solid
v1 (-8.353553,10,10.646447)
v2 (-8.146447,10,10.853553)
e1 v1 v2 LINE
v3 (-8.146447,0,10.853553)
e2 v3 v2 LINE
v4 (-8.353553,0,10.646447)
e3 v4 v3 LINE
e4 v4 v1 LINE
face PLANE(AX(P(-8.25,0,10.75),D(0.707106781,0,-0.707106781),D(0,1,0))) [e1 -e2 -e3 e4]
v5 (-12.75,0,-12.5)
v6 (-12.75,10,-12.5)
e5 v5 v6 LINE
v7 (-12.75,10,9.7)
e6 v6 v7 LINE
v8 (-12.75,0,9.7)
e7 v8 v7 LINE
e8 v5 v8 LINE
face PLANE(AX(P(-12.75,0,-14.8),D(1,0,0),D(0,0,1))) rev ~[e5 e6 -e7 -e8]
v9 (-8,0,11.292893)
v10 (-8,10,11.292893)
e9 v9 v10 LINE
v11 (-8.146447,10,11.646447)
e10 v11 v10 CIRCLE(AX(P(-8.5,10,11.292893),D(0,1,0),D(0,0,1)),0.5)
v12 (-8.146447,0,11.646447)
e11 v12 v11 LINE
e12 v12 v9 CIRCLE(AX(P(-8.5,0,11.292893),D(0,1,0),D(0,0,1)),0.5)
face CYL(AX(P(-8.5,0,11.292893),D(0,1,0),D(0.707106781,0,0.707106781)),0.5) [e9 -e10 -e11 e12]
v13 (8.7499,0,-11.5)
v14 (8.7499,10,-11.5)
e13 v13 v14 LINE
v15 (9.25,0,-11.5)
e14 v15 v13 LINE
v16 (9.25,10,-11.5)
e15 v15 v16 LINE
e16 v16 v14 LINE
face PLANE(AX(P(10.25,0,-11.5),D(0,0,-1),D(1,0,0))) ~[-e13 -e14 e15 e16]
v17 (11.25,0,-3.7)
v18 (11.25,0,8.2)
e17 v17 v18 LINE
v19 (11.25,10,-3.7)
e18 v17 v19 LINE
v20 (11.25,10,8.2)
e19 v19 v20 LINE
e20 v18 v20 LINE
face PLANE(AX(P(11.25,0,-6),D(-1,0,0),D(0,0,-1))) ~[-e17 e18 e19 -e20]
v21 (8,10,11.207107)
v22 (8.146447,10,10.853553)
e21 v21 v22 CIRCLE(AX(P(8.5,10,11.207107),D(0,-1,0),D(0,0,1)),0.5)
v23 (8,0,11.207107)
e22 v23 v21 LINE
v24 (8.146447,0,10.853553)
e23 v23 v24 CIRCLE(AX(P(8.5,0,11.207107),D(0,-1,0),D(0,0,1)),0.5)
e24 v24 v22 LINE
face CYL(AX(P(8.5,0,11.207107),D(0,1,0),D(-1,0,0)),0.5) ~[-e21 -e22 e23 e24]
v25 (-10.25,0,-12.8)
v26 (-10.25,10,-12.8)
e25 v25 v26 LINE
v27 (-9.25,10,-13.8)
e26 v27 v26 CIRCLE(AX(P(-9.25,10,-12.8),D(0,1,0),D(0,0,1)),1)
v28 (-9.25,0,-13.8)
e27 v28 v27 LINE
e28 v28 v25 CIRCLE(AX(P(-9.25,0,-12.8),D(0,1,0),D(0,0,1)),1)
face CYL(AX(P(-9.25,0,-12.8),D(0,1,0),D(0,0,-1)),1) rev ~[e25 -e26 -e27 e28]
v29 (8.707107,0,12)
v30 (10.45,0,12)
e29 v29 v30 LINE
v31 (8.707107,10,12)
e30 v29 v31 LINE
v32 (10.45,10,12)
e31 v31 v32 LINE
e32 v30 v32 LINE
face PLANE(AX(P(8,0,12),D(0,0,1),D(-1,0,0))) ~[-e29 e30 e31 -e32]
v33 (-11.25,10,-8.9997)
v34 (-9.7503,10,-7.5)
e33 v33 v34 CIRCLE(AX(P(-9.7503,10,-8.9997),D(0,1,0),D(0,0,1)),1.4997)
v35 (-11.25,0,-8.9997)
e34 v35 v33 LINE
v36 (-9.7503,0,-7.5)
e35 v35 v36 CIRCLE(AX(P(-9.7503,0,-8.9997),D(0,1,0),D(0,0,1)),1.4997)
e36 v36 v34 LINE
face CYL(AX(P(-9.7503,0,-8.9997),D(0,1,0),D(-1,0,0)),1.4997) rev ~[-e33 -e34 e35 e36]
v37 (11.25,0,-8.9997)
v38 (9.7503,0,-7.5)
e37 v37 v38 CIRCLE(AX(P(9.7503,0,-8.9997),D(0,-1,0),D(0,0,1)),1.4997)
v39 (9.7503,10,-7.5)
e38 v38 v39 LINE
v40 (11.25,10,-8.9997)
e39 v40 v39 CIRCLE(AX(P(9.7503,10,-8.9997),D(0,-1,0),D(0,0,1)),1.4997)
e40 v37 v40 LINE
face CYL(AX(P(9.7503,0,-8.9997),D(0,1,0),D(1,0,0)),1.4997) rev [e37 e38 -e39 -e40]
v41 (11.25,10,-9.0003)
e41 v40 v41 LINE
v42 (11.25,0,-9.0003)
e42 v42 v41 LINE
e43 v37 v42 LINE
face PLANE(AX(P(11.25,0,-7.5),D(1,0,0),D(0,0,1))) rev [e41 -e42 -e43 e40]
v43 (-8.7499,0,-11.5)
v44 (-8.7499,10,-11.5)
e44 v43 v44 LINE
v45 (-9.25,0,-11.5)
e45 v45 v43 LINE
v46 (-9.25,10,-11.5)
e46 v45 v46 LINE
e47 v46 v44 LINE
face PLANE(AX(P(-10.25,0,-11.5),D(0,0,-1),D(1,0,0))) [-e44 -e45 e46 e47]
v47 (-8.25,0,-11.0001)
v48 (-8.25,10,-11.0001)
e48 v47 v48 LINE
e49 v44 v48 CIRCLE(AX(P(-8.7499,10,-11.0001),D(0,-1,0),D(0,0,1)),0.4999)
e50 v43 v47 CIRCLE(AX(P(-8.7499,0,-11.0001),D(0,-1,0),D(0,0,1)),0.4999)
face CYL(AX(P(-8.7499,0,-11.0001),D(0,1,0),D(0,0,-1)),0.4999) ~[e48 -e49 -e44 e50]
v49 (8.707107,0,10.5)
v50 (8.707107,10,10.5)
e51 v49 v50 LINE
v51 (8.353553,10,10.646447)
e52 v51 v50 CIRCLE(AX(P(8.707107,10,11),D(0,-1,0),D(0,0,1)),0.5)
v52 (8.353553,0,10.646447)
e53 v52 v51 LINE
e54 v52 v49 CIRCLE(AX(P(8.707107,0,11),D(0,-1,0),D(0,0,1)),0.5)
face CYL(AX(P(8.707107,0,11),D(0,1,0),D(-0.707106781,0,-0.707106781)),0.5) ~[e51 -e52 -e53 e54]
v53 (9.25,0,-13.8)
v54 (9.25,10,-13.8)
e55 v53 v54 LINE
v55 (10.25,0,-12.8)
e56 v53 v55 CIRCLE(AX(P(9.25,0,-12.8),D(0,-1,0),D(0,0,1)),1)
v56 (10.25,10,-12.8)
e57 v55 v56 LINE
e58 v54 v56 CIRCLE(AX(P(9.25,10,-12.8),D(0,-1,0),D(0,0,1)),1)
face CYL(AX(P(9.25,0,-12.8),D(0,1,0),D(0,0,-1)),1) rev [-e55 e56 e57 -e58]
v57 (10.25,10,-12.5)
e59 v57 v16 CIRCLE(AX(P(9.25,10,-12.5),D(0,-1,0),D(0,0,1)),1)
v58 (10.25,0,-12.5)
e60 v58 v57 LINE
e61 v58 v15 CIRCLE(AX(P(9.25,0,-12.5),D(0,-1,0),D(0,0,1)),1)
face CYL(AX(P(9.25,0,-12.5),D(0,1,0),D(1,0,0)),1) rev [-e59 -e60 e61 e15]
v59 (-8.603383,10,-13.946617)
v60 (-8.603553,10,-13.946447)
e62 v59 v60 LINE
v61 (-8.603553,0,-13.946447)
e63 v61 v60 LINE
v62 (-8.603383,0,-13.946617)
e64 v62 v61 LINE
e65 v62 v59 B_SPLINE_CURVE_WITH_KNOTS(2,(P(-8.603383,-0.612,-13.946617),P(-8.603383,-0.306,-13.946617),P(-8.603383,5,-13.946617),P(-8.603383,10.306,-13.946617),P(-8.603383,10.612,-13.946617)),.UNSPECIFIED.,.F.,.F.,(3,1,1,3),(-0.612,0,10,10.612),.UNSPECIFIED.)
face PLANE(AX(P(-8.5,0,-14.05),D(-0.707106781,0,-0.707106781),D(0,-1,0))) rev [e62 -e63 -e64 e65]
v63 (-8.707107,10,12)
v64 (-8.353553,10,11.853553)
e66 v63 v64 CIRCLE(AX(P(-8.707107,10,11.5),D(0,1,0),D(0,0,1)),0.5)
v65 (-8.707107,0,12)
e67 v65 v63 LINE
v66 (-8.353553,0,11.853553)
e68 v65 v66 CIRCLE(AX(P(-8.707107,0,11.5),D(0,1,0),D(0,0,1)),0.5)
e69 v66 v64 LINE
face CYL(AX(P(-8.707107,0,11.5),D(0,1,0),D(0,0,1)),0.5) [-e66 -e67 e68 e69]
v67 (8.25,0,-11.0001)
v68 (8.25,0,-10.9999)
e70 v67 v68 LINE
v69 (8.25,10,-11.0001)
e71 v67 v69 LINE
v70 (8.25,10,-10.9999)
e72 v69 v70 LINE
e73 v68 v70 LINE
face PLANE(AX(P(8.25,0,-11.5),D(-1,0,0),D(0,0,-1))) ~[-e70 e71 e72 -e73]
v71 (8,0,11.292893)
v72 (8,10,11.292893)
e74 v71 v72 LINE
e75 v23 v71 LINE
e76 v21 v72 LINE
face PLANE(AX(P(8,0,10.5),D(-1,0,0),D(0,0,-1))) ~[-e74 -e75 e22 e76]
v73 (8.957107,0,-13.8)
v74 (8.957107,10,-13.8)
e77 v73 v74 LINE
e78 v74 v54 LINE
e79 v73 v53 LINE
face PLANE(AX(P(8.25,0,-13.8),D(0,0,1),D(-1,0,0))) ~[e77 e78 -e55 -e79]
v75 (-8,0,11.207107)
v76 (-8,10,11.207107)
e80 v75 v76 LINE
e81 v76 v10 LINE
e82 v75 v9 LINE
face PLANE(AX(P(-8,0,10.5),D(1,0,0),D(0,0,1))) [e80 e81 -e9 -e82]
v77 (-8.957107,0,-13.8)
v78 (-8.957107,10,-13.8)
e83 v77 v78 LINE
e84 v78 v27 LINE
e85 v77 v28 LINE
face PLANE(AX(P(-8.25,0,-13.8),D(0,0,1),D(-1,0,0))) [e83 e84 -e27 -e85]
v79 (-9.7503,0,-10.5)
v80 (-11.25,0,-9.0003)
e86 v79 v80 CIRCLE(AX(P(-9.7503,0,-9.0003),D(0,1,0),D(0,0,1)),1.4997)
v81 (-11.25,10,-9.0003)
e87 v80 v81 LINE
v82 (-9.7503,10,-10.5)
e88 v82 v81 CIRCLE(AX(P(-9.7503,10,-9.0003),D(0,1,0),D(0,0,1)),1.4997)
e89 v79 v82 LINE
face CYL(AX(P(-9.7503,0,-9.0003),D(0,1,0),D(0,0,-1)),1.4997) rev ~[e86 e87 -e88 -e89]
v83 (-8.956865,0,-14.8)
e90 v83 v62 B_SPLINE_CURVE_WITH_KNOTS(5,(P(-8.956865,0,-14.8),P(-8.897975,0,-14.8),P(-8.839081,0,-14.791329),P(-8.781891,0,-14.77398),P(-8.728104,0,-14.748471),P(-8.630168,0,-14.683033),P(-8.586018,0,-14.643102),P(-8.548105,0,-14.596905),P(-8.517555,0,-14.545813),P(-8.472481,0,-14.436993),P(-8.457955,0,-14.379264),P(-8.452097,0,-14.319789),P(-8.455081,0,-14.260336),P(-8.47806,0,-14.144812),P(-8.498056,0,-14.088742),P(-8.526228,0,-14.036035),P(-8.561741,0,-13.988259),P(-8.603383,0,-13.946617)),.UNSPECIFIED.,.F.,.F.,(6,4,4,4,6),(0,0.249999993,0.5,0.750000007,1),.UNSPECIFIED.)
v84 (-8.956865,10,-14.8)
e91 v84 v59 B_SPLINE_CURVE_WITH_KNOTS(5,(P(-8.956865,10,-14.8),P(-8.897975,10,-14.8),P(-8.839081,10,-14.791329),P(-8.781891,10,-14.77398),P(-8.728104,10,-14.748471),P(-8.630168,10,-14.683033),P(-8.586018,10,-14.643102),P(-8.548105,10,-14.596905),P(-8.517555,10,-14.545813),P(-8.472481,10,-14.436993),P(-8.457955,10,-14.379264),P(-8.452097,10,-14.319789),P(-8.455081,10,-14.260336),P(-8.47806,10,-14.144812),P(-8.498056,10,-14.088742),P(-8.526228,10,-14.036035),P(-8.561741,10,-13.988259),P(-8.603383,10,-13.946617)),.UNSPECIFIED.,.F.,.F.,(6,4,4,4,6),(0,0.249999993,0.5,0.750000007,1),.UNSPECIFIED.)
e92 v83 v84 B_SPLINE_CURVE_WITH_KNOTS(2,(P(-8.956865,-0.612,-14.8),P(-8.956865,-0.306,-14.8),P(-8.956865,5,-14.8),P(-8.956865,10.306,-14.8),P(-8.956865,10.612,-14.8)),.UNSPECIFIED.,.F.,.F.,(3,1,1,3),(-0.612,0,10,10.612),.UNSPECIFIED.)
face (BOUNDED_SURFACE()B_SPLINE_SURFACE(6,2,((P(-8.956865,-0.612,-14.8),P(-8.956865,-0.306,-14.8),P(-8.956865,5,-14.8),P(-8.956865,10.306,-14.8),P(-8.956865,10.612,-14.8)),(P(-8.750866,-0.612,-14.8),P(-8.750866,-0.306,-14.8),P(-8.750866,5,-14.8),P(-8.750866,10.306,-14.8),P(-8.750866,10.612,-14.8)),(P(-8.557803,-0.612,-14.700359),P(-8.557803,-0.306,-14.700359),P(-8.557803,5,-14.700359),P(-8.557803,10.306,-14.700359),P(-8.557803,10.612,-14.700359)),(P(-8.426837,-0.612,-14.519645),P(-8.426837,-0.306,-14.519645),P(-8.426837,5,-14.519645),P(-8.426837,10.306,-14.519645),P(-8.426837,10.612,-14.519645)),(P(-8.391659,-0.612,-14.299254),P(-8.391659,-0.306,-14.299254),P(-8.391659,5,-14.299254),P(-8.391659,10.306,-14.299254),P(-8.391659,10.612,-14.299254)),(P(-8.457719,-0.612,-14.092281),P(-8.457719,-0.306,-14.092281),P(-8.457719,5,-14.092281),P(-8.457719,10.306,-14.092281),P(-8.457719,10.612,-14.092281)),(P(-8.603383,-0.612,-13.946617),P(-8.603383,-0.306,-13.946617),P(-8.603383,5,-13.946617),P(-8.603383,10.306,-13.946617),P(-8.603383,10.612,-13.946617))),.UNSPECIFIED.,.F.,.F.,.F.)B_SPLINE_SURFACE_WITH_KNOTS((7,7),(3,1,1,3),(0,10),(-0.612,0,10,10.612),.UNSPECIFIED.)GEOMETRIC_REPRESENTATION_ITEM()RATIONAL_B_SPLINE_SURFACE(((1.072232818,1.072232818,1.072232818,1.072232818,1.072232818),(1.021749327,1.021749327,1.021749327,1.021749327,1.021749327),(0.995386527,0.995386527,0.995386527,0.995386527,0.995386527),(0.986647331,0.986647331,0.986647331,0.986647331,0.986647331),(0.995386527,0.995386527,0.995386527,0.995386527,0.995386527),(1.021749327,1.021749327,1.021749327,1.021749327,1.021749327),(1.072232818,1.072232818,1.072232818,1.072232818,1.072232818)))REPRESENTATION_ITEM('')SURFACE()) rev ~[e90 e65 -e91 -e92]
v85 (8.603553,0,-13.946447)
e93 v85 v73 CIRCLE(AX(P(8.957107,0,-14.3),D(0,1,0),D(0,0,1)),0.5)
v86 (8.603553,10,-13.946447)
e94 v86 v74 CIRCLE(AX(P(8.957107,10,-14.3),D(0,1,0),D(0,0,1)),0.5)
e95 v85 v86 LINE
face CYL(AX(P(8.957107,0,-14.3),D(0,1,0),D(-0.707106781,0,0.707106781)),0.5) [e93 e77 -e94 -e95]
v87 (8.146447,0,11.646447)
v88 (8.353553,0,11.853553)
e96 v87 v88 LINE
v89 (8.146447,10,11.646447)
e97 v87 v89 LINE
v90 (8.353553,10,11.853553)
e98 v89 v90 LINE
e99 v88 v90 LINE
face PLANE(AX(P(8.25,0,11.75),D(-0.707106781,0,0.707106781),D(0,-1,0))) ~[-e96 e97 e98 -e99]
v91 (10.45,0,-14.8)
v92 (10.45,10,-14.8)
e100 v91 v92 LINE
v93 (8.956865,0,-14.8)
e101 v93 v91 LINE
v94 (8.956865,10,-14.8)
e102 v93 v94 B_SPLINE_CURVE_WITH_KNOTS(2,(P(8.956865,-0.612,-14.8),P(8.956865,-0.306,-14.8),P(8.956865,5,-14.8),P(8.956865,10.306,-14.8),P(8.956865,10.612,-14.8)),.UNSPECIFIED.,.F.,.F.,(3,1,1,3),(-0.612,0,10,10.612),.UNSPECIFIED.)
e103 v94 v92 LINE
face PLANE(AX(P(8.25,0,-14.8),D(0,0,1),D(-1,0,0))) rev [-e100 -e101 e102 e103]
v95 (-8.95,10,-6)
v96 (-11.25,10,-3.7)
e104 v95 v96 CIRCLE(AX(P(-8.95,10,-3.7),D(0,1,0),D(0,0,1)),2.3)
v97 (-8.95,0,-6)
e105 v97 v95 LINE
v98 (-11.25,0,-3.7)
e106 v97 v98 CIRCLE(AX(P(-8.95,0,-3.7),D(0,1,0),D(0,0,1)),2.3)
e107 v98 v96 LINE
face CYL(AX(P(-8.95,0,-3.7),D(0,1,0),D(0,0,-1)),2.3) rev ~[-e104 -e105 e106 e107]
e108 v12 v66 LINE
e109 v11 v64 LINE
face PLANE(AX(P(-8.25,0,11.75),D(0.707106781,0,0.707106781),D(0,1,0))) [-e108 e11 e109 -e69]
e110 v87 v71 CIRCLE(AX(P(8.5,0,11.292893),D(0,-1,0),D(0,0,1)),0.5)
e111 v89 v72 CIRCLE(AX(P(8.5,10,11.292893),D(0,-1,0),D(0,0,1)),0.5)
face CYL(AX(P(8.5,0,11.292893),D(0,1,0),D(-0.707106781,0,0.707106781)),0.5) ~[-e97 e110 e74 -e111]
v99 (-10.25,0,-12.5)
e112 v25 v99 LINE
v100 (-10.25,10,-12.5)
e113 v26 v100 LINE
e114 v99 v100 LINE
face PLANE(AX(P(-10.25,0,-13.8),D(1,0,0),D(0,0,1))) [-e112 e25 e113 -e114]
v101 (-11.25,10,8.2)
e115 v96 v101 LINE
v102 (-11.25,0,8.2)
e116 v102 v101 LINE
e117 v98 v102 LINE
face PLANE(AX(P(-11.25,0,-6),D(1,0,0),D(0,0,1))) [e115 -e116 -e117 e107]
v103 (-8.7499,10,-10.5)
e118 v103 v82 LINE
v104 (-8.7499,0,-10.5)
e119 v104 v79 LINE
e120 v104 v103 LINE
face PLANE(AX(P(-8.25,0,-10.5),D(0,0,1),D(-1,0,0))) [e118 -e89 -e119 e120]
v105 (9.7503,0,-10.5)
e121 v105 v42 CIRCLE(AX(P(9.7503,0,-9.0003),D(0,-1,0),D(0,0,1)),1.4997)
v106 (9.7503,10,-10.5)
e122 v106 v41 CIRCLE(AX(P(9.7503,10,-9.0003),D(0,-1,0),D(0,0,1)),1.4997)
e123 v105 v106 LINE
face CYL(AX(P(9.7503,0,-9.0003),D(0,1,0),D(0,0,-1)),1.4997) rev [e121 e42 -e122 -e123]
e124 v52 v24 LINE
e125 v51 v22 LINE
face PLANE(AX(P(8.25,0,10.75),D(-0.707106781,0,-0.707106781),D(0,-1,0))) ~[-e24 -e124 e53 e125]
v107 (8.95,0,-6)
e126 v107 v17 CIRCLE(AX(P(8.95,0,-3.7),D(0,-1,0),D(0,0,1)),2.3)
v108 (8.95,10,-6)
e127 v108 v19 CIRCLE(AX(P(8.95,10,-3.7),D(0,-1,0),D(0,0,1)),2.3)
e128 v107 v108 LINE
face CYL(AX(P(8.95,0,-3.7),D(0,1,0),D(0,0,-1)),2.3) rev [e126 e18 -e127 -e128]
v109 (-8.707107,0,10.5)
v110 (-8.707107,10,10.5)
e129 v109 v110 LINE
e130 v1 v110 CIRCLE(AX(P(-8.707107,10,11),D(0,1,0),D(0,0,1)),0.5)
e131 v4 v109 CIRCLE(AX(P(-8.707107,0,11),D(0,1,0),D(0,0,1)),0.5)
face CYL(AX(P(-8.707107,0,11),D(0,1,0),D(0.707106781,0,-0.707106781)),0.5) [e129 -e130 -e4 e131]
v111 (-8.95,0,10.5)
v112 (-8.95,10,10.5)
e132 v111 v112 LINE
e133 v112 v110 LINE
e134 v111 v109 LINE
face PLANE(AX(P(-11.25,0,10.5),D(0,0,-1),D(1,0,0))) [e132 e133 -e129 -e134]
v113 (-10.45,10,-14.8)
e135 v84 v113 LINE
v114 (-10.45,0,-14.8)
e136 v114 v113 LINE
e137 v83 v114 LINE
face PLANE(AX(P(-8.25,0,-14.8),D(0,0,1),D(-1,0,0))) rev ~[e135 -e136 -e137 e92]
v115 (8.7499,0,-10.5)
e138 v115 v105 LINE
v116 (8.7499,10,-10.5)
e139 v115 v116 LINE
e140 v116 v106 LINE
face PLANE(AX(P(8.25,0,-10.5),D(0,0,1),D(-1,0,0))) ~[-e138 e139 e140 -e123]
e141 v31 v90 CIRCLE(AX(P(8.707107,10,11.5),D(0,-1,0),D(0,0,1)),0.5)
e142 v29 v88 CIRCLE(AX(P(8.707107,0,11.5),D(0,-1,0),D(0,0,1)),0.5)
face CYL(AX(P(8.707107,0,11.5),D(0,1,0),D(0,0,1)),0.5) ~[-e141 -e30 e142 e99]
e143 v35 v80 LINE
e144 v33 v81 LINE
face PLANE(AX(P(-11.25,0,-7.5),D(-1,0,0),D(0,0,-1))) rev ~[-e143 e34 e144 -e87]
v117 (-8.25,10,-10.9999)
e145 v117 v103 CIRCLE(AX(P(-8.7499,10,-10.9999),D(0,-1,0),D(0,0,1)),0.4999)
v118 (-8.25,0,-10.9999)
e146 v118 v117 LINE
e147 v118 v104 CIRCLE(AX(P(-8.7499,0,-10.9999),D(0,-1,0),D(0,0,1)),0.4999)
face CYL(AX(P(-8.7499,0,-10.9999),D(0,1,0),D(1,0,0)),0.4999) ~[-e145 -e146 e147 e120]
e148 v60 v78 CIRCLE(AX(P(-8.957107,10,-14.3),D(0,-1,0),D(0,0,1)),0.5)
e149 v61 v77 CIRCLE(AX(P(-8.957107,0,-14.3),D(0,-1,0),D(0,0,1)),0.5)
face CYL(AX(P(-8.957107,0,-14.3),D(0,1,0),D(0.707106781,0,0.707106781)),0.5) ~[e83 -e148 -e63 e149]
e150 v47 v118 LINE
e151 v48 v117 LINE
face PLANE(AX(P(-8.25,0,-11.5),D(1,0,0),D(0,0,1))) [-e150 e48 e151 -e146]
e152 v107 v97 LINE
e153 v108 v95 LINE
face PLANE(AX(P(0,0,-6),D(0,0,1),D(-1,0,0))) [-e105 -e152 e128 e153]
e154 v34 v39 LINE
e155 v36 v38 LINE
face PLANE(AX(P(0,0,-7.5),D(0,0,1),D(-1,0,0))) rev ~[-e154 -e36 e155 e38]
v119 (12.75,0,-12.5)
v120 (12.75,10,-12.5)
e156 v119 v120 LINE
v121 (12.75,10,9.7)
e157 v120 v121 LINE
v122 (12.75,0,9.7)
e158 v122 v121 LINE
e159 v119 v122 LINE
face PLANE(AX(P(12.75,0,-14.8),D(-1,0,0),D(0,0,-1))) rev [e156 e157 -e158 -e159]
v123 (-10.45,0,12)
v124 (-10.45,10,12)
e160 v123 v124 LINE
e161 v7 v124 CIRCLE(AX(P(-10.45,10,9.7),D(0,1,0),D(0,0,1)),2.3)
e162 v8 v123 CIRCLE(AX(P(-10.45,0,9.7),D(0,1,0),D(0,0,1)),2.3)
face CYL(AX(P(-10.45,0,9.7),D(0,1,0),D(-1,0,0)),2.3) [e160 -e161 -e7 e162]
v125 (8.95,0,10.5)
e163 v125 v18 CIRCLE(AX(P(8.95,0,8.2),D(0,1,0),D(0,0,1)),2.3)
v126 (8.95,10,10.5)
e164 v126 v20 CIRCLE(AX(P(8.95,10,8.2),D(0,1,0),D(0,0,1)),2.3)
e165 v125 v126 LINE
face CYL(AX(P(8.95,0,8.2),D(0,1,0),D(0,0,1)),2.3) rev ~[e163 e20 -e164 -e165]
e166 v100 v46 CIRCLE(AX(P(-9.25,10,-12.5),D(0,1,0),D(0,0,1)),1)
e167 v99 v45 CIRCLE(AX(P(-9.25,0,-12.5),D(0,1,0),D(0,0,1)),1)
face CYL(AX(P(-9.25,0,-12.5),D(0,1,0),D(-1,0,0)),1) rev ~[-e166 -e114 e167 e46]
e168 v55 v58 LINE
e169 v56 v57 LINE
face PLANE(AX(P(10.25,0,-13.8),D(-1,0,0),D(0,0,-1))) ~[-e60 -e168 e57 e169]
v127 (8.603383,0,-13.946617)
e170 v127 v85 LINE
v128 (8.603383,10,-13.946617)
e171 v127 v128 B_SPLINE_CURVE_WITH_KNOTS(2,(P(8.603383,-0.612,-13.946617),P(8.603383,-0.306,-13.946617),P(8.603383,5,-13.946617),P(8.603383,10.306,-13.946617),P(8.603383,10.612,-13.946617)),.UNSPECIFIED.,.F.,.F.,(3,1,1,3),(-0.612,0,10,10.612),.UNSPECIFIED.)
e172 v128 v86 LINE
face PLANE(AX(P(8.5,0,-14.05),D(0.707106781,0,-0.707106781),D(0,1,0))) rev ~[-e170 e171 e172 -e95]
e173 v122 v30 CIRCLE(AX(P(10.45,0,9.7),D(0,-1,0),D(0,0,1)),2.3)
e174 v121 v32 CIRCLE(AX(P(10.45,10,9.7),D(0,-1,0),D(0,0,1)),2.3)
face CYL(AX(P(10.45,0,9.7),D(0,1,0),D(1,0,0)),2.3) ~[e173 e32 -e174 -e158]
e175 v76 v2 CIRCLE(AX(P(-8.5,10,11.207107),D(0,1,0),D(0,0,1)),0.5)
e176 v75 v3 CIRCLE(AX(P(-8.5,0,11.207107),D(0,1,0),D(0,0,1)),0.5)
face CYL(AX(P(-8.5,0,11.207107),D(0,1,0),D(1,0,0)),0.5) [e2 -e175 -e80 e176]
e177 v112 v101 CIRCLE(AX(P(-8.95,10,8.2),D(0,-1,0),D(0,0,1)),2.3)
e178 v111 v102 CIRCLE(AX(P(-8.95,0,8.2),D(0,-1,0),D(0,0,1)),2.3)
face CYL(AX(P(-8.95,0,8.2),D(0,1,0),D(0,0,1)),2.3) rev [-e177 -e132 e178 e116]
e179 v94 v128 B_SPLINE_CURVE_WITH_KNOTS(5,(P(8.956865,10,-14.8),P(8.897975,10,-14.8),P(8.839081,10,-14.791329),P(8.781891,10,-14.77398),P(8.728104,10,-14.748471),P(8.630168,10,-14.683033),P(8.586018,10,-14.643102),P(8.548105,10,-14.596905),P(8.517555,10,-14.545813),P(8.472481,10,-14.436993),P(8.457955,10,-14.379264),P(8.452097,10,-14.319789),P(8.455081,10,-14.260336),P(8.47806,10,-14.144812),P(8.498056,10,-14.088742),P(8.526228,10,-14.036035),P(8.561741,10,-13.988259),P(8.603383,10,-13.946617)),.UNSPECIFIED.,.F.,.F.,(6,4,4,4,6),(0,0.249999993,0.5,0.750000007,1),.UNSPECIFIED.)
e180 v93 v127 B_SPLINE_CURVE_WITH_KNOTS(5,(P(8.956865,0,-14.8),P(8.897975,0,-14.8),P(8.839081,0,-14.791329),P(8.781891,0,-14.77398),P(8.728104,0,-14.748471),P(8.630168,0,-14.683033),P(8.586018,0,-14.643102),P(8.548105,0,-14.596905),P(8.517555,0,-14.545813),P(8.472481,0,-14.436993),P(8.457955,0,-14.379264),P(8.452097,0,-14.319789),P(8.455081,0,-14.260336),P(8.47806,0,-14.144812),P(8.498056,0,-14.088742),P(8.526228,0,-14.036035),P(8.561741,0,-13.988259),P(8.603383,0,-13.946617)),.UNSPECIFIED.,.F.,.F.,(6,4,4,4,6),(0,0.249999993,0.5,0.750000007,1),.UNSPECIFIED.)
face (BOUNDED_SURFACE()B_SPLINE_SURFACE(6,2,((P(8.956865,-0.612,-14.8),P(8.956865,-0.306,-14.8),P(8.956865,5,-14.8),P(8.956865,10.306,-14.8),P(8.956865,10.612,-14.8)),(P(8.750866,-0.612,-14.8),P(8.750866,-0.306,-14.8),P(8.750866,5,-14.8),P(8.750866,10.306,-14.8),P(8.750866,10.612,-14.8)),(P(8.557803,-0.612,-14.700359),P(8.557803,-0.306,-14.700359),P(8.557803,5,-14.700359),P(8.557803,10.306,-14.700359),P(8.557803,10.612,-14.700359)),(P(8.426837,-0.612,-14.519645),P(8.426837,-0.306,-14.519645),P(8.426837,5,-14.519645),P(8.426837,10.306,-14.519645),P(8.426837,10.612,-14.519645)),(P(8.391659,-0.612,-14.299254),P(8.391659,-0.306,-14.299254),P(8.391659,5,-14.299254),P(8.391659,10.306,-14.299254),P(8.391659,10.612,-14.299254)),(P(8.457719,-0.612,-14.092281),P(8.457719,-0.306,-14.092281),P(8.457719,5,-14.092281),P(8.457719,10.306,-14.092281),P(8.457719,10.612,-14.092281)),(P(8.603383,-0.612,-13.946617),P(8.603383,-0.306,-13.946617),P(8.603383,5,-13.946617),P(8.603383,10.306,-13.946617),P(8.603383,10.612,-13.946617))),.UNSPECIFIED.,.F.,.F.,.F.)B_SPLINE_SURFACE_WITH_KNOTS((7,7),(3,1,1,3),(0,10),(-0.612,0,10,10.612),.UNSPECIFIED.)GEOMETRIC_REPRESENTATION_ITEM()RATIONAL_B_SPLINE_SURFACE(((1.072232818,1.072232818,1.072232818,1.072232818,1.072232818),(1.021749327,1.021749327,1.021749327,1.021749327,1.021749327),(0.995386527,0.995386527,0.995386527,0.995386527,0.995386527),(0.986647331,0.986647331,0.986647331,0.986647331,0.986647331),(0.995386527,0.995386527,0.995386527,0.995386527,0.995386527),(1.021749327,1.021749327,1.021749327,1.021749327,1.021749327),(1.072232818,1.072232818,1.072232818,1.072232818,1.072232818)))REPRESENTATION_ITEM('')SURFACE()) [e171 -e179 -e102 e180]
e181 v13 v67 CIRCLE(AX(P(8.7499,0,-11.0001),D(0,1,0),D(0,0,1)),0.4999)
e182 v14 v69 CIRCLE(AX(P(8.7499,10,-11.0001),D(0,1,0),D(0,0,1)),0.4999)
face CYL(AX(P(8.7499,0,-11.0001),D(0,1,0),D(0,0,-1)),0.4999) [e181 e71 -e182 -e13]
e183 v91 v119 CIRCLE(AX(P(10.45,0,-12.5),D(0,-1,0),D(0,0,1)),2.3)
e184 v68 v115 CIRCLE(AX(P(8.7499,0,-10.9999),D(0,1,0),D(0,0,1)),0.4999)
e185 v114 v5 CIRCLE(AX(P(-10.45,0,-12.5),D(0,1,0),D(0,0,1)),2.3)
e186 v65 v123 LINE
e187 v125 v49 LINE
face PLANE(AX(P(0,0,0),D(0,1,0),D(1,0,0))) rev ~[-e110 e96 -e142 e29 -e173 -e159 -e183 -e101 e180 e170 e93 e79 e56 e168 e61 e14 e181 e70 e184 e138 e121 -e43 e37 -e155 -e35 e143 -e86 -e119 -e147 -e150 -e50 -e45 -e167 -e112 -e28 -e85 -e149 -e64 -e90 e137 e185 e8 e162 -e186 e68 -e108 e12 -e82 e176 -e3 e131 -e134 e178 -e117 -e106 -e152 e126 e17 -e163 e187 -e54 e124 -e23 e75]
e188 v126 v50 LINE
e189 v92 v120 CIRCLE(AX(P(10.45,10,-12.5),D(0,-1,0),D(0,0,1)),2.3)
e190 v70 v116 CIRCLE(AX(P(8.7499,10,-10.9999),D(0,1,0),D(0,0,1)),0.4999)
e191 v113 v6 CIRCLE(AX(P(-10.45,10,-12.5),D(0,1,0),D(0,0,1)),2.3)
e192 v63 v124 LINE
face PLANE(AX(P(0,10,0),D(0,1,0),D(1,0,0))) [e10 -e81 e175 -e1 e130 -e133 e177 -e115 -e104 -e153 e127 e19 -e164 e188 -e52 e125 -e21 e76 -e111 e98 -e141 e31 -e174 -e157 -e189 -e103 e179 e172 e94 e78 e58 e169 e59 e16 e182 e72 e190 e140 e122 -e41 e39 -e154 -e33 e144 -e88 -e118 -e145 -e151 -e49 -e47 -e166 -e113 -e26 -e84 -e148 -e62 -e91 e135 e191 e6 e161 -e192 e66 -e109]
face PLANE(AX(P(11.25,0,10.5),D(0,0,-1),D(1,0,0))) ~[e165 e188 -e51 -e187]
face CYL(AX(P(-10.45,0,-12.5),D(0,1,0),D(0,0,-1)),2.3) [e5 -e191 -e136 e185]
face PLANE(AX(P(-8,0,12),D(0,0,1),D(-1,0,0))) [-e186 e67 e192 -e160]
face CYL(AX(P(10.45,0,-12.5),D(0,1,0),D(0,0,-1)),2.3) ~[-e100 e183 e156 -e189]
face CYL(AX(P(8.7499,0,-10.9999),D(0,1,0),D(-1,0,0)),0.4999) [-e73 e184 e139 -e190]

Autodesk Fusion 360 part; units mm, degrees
sketch "Sketch1" plane through (0, 0, 0) normal (0, 1, 0) x (1, 0, 0)
  line L0 (-8.25, 14.8) -> (-12.75, 14.8)
  line L1 (-12.75, 14.8) -> (-8.25, 14.8)
  line L2 (-8.25, 13.8) -> (-10.25, 13.8)
  line L3 (-11.25, -10.5) -> (-8, -10.5)
  line L4 (-8, -10.5) -> (-8, -12)
  line L5 (-8, -12) -> (-12.75, -12)
  line L6 (-8.25, 13.8) -> (-8.25, 14.8)
  line L7 (-10.25, 13.8) -> (-10.25, 11.5)
  line L8 (-10.25, 11.5) -> (-8.25, 11.5)
  line L9 (-8.25, 11.5) -> (-8.25, 10.5)
  line L10 (-8.25, 10.5) -> (-11.25, 10.5)
  line L11 (-12.75, 14.8) -> (-12.75, -12)
  line L12 (0, 7.5) -> (-11.25, 7.5)
  line L13 (-11.25, 7.5) -> (-11.25, 10.5)
  line L14 (0, 7.5) -> (0, 6)
  line L15 (0, 6) -> (-11.25, 6)
  line L16 (-11.25, 6) -> (-11.25, -10.5)
  dimension "d1" = 2.3
  dimension "d2" = 1
  dimension "d3" = 1
  dimension "d5" = 2
  dimension "d8" = 1.5
  dimension "d11" = 8
  dimension "d13" = 10.5
  dimension "d14" = 10.5
  dimension "d17" = 1
  dimension "d28" = 1.5
  dimension "d29" = 1.5
  dimension "d30" = 3
  dimension "d34" = 10.25
extrude "Extrude1" add sketch "Sketch1" along normal blind 10 makes body 1
chamfer "Chamfer1" distance 0.5 angle 45 3 edges at (-8.25, 5, -13.8) (-8, 5, 12) (-8, 5, 10.5) on bodies 1
fillet "Fillet1" radius 0.5 6 edges at (-8, 5, 11.5) (-8, 5, 11) (-8.5, 5, 12) (-8.5, 5, 10.5) (-8.25, 5, -14.3) (-8.75, 5, -13.8) on bodies 1
fillet "Fillet2" radius 2.3 4 edges at (-12.75, 5, 12) (-12.75, 5, -14.8) (-11.25, 5, -6) (-11.25, 5, 10.5) on bodies 1
fillet "Fillet3" radius 0.5 3 edges at (-8.25, 5, -14.8) (-8.25, 5, -11.5) (-8.25, 5, -10.5) on bodies 1
fillet "Fillet4" radius 1 2 edges at (-10.25, 5, -13.8) (-10.25, 5, -11.5) on bodies 1
fillet "Fillet5" radius 1.5 2 edges at (-11.25, 5, -10.5) (-11.25, 5, -7.5) on bodies 1
mirror "Mirror1" about plane through (0, 0, -7.5) normal (1, 0, 0) of bodies 1 makes body 2
combine "Combine1" operation add target body 1 tool bodies 2
